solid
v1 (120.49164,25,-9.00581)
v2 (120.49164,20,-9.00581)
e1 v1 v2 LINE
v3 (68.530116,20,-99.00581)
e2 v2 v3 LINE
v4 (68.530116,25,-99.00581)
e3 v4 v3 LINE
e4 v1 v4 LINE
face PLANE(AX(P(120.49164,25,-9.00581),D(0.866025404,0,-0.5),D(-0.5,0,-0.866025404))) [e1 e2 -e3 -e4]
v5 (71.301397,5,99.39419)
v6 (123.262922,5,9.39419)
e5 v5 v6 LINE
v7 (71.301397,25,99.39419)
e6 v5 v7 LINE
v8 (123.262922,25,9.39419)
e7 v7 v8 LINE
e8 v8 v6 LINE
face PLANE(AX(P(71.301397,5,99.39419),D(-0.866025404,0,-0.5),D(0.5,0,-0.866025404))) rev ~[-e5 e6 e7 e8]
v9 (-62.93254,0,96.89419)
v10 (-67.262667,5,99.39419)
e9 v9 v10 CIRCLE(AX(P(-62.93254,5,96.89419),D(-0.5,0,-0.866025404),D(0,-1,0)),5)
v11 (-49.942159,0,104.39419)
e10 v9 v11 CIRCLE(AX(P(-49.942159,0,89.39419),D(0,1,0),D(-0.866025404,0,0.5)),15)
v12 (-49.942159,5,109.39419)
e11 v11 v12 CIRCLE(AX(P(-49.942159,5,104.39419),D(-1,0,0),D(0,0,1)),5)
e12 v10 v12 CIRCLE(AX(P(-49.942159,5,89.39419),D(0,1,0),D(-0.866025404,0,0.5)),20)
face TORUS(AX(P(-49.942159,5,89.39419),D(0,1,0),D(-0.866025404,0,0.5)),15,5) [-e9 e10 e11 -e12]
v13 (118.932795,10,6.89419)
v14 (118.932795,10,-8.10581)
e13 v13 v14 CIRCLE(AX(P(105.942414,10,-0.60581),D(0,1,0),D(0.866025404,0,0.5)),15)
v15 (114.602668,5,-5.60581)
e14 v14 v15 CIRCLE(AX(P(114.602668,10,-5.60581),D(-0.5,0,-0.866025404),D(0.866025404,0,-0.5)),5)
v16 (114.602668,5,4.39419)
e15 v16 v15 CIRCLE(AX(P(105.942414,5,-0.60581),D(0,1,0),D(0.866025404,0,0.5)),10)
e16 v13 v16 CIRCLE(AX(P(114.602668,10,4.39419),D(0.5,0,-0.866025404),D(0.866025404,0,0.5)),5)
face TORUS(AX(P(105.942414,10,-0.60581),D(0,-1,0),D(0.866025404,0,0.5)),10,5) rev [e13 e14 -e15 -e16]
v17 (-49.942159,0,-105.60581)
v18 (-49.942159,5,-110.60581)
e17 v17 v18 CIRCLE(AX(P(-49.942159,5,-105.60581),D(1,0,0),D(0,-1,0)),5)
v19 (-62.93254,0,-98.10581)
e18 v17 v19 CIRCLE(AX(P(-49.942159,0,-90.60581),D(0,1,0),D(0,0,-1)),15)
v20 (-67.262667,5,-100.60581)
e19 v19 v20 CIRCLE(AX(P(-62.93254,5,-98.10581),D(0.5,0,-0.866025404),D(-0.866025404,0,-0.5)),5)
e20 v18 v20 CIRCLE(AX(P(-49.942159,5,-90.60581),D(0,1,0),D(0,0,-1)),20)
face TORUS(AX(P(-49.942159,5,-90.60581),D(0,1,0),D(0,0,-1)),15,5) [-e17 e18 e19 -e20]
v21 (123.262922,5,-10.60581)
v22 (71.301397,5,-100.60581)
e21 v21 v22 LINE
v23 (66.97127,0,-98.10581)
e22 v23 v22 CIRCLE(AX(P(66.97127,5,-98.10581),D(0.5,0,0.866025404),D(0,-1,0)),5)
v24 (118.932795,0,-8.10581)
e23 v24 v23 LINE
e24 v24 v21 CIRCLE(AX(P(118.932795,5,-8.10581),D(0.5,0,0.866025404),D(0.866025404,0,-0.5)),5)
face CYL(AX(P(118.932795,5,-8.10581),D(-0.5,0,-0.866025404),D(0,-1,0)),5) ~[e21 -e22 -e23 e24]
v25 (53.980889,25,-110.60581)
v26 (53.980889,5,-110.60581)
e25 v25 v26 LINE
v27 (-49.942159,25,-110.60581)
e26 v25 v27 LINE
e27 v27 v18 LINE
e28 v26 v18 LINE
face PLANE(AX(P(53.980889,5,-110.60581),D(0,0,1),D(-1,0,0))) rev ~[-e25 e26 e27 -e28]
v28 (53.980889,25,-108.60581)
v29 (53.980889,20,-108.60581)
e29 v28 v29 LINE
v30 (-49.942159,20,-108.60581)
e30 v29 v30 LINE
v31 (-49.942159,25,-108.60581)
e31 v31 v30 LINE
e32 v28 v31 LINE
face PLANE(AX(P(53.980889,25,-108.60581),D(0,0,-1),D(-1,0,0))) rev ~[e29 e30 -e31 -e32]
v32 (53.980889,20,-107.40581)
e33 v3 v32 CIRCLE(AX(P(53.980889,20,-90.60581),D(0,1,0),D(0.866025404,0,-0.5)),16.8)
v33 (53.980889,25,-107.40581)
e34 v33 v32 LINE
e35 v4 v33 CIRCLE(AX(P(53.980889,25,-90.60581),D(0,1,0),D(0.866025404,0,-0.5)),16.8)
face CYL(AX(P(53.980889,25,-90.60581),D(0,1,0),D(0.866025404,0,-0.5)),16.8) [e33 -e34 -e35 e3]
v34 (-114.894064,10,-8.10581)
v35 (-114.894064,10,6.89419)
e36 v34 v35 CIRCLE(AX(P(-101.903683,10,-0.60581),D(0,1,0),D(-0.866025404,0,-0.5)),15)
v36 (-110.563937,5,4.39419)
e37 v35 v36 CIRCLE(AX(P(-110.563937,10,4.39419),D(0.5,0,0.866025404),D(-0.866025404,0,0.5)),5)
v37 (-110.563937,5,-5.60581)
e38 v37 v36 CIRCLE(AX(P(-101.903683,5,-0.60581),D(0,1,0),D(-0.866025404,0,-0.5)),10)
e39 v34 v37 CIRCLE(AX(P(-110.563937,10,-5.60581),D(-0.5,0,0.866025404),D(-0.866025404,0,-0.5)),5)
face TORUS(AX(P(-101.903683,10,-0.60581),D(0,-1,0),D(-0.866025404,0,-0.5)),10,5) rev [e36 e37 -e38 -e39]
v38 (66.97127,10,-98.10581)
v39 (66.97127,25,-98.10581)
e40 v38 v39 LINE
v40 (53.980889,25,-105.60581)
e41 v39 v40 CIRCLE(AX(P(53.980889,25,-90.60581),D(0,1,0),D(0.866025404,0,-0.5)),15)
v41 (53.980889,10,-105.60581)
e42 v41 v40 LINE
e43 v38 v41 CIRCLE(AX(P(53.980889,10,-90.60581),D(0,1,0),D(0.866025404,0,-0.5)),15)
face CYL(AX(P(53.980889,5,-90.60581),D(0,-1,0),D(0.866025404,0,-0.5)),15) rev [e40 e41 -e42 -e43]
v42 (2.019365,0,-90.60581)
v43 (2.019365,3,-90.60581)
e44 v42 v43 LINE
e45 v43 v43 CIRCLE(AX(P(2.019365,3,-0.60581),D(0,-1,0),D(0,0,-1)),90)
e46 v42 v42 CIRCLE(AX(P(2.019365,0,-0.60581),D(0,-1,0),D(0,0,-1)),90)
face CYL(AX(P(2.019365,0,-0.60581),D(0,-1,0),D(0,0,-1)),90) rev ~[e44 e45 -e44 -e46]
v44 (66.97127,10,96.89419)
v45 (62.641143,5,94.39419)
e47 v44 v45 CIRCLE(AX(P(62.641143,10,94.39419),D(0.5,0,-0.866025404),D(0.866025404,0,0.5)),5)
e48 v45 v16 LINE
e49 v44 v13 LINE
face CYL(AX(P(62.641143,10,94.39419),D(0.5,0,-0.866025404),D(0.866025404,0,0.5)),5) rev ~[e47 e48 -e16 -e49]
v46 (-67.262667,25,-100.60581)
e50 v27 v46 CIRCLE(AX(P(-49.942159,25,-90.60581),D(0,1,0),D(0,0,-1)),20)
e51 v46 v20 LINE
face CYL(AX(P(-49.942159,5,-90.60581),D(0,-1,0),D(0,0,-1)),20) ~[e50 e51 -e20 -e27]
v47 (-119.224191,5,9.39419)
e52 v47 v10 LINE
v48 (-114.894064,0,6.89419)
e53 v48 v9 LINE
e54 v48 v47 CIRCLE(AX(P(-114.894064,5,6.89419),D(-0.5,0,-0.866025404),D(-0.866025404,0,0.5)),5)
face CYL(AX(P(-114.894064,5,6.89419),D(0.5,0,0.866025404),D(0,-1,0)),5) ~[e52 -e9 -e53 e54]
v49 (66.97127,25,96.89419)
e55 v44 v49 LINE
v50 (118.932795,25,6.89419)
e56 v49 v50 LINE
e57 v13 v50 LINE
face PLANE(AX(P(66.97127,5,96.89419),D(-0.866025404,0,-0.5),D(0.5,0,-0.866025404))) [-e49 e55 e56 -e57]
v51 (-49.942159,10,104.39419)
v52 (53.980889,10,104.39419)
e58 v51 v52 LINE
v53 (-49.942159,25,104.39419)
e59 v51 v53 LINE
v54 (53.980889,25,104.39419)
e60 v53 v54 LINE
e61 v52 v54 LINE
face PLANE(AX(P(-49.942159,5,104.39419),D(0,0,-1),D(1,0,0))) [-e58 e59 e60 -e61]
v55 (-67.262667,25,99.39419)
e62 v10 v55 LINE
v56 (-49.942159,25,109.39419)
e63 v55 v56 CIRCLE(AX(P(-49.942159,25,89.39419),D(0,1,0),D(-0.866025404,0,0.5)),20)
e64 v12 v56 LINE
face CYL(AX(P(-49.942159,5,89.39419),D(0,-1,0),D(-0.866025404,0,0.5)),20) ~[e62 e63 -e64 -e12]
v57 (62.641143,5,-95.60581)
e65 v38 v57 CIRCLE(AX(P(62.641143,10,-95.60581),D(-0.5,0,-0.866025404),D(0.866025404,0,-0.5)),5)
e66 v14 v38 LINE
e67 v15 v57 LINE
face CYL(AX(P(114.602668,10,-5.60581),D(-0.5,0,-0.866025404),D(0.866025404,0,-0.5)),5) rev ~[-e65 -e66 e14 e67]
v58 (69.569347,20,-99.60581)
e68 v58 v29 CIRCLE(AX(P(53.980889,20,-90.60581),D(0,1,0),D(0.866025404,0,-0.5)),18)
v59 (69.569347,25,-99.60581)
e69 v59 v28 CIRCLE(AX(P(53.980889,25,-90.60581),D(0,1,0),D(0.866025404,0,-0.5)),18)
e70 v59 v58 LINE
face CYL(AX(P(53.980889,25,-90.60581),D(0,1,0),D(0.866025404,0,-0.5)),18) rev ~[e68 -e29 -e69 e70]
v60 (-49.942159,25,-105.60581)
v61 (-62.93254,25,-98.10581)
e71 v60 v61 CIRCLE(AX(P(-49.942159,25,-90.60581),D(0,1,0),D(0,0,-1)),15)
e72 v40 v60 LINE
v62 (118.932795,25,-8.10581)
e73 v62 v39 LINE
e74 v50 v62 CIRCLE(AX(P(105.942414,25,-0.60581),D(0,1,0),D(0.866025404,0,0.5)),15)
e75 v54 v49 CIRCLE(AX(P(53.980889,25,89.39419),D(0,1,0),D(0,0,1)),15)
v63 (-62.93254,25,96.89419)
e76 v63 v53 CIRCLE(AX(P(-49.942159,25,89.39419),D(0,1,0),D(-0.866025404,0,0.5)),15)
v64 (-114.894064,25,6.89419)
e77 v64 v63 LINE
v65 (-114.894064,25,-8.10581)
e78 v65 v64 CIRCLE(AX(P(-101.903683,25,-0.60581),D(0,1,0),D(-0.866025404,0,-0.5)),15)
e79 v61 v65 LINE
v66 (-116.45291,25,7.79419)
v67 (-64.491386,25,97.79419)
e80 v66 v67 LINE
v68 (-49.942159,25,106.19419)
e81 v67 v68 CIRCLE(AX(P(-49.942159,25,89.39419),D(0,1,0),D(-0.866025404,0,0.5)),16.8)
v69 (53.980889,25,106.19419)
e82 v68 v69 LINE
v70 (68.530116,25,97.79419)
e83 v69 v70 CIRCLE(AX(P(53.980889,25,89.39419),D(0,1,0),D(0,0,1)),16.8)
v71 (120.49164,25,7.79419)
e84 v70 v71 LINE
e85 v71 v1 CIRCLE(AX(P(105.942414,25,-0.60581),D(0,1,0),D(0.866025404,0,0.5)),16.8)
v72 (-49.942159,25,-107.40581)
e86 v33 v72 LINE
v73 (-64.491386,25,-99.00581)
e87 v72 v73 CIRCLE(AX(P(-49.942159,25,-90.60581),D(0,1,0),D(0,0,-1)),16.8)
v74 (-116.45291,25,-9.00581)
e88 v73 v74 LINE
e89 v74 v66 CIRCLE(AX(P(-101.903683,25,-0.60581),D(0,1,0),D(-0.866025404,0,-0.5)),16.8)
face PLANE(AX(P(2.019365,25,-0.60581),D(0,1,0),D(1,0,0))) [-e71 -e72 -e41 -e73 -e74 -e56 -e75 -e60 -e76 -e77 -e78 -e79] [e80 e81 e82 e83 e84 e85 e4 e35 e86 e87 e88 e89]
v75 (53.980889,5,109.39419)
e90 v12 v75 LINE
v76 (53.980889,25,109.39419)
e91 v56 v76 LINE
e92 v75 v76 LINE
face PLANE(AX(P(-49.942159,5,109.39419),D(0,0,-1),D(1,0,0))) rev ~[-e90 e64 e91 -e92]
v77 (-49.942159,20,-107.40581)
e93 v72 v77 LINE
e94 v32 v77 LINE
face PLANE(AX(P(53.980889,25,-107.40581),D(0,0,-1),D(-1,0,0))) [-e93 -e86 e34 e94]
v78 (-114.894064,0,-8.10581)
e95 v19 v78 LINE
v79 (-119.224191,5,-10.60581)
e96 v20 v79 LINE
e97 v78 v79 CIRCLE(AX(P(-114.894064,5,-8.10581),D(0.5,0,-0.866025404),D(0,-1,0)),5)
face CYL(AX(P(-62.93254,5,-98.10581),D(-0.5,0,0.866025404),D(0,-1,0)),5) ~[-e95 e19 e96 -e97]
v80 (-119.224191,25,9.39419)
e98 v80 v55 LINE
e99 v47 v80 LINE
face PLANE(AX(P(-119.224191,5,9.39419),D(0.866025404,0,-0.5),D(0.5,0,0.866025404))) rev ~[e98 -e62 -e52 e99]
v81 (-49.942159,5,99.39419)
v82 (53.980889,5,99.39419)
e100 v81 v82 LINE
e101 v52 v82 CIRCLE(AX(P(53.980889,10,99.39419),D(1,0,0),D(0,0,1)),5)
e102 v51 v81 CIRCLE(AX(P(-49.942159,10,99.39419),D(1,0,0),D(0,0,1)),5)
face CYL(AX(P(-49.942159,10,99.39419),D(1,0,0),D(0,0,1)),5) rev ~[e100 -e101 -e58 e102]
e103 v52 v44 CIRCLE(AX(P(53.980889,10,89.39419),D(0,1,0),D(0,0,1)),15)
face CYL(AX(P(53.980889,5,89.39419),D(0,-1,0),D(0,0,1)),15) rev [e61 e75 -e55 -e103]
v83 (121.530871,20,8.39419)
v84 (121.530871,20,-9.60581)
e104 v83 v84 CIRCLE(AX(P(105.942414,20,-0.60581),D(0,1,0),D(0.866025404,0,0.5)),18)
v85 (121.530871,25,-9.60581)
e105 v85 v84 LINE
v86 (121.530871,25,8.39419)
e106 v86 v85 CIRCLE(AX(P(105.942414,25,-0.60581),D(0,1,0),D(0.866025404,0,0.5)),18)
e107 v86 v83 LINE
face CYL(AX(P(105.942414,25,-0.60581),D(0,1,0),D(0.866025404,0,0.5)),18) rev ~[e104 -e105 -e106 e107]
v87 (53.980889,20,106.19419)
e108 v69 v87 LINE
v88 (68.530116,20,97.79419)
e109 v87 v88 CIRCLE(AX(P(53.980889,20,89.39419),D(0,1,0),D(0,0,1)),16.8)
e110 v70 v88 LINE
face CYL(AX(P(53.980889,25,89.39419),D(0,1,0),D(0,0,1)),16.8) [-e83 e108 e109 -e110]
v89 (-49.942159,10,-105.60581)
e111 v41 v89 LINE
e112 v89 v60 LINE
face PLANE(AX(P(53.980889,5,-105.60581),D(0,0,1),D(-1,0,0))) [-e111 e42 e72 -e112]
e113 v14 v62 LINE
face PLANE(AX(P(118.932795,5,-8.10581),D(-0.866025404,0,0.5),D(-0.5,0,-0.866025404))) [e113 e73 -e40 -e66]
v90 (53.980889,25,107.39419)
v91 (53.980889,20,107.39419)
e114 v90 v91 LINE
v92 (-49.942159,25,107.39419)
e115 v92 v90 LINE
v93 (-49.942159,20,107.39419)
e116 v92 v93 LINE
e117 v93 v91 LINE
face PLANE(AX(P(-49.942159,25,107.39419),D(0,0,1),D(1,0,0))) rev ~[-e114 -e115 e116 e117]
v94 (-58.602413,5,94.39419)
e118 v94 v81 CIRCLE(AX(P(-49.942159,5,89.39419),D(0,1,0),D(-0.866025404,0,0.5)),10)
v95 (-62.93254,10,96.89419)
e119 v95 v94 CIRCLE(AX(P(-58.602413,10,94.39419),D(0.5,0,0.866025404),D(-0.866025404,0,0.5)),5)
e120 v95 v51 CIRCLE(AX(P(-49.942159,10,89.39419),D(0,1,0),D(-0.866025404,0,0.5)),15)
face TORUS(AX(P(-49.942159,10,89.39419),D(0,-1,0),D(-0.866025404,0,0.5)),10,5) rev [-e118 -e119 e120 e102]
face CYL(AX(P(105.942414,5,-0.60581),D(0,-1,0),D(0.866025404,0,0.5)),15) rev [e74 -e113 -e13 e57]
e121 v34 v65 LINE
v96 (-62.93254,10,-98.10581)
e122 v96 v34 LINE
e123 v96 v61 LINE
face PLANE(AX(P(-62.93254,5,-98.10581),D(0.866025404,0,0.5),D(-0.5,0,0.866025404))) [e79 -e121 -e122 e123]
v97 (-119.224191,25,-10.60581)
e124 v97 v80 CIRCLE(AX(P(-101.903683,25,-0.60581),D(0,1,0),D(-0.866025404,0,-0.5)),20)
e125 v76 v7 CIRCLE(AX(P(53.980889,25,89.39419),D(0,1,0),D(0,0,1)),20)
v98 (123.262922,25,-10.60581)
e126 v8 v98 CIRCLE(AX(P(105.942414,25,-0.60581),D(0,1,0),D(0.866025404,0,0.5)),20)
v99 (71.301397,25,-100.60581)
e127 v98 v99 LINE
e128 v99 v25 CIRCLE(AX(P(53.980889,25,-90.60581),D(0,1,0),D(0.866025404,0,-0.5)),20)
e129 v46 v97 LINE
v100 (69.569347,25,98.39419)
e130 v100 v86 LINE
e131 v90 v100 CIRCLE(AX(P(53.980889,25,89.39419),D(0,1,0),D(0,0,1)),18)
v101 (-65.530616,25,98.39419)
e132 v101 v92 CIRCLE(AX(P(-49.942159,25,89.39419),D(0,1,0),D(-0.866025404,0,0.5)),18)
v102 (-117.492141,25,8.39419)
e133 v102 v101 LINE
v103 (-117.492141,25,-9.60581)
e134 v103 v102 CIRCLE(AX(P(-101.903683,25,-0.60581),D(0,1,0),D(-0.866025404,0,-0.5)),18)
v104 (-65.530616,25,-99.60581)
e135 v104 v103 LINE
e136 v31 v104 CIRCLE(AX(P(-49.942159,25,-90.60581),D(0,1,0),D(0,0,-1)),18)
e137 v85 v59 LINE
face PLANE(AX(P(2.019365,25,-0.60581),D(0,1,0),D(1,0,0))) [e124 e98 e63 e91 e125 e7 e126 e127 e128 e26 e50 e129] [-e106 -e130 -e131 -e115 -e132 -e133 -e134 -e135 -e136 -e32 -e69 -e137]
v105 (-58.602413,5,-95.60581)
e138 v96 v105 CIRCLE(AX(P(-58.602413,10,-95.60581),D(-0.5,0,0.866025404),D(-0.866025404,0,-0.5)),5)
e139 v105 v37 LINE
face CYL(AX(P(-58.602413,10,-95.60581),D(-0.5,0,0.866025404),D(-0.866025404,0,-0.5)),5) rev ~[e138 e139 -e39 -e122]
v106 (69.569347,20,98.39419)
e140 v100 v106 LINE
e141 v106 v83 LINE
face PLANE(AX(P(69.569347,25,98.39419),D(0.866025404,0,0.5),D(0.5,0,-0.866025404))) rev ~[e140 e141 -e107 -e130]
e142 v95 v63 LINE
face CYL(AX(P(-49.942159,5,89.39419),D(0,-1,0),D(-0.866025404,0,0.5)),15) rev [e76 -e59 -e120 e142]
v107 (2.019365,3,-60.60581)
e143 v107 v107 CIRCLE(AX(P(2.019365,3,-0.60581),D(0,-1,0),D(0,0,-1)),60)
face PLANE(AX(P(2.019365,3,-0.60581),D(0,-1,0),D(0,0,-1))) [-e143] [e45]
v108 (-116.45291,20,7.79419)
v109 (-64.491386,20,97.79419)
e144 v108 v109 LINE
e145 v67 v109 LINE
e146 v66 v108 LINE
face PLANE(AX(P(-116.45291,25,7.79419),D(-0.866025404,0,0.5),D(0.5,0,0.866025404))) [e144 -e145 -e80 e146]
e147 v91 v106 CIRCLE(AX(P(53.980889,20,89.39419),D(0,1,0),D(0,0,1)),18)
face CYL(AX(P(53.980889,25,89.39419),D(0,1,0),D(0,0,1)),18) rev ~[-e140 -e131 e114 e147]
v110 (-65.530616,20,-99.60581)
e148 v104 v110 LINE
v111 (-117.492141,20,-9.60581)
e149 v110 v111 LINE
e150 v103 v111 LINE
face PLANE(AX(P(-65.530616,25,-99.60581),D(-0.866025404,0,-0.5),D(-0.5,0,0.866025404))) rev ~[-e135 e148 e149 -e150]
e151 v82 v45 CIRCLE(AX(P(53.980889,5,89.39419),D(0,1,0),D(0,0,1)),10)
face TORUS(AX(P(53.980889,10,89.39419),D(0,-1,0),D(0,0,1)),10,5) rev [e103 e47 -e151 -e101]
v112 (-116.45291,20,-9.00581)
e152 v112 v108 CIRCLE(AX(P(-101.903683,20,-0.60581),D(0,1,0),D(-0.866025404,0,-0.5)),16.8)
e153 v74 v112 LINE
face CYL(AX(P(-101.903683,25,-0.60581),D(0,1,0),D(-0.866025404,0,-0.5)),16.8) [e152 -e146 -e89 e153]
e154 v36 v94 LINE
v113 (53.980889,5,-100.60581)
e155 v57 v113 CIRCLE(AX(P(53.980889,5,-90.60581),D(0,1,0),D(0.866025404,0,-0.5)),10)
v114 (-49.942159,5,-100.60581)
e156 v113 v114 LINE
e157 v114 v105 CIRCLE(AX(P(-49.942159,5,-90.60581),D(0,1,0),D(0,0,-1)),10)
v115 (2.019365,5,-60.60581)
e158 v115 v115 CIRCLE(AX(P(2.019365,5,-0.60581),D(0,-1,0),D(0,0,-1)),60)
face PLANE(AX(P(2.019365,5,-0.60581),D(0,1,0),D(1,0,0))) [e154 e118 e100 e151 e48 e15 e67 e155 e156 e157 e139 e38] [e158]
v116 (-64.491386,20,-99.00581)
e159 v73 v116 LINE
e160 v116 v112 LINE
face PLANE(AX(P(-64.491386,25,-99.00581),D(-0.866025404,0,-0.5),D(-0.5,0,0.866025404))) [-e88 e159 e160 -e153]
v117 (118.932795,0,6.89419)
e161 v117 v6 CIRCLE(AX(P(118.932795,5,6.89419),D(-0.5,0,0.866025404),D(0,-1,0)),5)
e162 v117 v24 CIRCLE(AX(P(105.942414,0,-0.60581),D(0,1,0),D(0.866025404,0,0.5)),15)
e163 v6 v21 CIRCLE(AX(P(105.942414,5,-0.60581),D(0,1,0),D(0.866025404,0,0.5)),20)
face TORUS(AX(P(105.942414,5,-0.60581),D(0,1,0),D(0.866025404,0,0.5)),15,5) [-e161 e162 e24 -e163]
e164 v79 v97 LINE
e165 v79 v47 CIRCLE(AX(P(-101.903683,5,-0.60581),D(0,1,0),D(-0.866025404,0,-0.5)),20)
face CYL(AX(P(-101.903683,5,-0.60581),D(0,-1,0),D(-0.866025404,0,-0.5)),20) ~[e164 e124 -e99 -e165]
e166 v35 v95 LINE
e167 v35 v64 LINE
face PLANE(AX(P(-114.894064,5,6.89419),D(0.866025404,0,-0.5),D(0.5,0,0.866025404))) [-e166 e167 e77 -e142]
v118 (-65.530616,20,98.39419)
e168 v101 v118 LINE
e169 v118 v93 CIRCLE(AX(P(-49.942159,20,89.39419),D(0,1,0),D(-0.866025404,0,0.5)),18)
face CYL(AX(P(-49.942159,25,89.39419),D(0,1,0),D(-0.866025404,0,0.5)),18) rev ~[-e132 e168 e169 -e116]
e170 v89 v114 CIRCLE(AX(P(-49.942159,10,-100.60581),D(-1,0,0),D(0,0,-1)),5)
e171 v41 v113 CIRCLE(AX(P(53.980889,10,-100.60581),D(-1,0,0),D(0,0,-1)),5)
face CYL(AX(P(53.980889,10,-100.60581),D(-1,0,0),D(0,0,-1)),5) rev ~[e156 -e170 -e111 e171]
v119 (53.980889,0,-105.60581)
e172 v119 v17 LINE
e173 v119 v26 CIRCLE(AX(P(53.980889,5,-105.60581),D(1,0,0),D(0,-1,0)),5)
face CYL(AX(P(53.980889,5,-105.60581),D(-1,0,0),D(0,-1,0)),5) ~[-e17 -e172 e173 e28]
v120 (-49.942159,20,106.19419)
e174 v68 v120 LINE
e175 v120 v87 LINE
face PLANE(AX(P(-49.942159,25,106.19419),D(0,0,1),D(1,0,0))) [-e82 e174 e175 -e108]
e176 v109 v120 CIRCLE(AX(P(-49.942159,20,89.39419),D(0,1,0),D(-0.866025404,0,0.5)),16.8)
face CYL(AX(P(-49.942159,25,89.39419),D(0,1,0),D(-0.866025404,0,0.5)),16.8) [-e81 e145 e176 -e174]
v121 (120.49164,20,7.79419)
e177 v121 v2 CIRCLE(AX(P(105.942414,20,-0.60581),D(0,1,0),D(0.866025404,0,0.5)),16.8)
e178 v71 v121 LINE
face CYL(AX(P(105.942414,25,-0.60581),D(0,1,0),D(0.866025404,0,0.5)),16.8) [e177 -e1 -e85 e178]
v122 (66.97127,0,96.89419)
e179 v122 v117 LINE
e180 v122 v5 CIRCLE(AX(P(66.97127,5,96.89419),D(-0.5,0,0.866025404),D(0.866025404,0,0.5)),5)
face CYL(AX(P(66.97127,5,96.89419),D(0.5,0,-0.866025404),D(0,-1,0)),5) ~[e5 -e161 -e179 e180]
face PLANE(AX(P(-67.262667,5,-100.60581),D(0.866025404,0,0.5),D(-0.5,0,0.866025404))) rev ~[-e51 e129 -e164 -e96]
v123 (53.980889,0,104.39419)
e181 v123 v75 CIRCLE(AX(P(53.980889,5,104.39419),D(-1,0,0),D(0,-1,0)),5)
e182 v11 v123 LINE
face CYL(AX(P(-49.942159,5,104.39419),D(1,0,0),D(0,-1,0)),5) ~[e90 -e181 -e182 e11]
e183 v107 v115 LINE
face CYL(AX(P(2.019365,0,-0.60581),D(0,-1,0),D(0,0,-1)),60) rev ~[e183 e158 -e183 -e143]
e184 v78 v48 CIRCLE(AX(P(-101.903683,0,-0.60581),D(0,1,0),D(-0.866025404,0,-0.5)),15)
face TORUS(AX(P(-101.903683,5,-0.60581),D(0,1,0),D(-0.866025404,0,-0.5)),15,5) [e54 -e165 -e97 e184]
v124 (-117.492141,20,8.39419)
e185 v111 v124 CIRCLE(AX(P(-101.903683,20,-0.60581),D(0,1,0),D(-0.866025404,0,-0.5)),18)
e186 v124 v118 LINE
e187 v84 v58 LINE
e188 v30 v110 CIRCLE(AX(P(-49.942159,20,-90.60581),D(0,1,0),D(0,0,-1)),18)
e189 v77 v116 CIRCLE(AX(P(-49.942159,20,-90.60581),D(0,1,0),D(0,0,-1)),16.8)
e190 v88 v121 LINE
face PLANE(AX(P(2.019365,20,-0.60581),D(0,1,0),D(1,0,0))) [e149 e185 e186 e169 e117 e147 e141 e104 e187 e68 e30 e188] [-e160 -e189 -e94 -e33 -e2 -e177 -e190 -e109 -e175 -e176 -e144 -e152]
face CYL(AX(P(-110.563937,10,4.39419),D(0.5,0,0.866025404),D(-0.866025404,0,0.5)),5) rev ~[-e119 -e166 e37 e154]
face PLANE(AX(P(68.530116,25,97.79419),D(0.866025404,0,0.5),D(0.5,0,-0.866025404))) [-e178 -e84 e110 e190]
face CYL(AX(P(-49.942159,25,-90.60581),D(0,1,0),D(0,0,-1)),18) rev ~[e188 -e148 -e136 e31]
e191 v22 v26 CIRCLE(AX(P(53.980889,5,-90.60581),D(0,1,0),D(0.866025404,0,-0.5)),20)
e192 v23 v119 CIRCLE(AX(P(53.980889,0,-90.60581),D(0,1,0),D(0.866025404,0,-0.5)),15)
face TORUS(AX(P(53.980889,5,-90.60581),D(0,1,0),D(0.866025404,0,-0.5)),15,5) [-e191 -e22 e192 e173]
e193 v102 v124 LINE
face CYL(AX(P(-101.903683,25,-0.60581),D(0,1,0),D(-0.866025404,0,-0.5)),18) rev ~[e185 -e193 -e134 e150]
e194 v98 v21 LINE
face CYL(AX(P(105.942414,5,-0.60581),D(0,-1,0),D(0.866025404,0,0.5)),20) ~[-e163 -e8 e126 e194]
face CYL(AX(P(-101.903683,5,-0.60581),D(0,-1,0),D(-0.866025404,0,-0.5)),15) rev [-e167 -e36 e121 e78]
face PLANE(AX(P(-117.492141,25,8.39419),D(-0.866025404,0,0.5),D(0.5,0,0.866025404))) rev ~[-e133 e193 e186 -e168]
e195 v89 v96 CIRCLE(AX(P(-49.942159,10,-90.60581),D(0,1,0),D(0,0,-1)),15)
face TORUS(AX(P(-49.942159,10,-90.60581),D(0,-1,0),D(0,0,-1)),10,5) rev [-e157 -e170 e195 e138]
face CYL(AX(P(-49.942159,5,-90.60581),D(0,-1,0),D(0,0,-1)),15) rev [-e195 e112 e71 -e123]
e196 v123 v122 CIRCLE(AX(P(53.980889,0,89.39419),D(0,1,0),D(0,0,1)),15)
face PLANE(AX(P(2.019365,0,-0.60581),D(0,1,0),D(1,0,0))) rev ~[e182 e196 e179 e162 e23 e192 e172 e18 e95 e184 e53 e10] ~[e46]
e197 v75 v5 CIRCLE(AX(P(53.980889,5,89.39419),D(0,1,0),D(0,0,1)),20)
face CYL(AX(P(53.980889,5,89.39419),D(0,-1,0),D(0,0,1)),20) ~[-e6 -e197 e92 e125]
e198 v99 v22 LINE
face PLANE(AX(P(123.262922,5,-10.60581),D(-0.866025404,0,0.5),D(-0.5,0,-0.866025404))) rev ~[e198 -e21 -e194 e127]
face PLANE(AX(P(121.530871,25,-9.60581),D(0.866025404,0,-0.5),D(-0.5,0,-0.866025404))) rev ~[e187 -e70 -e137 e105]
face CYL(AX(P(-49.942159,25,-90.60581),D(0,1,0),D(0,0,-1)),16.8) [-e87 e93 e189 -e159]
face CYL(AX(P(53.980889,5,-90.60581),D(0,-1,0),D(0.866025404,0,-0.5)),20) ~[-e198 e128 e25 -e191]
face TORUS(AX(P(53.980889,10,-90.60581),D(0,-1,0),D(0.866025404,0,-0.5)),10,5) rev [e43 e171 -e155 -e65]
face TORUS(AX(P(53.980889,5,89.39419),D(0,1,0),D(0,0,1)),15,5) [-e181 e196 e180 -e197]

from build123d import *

# Parameters (mm, degrees)
SALIENTE_EXTRUIR2_DEPTH = 5
SALIENTE_EXTRUIR3_DEPTH = 20
REDONDEO2_R             = 5
REDONDEO3_R             = 5
CROQUIS4_R              = 60
CORTAR_EXTRUIR1_DEPTH   = 10
CROQUIS3_R              = 90
CORTAR_EXTRUIR2_DEPTH   = 3
CORTAR_EXTRUIR3_DEPTH   = 5


with BuildPart() as part:
    # Croquis1 → Saliente-Extruir2 (new body)
    with BuildSketch(Plane(origin=(0, 0, 0), x_dir=(1, 0, 0), z_dir=(0, 1, 0))):
        with BuildLine():
            Line((-119.224191345, -9.394190445), (-67.262667118, -99.394190445))
            ThreePointArc((-67.262667118, -99.394190445), (-59.942159042, -106.71469852), (-49.942159042, -109.394190445))
            Line((-49.942159042, -109.394190445), (53.980889412, -109.394190445))
            ThreePointArc((53.980889412, -109.394190445), (63.980889412, -106.71469852), (71.301397487, -99.394190445))
            Line((71.301397487, -99.394190445), (123.262921714, -9.394190445))
            ThreePointArc((123.262921714, -9.394190445), (125.942413639, 0.605809555), (123.262921714, 10.605809555))
            Line((123.262921714, 10.605809555), (71.301397487, 100.605809555))
            ThreePointArc((71.301397487, 100.605809555), (63.980889412, 107.926317631), (53.980889412, 110.605809555))
            Line((53.980889412, 110.605809555), (-49.942159042, 110.605809555))
            ThreePointArc((-49.942159042, 110.605809555), (-59.942159042, 107.926317631), (-67.262667118, 100.605809555))
            Line((-67.262667118, 100.605809555), (-119.224191345, 10.605809555))
            ThreePointArc((-119.224191345, 10.605809555), (-121.90368327, 0.605809555), (-119.224191345, -9.394190445))
        make_face()
    extrude(amount=SALIENTE_EXTRUIR2_DEPTH)

    # Croquis2 → Saliente-Extruir3 (add)
    with BuildSketch(Plane(origin=(0, 5, 0), x_dir=(1, 0, 0), z_dir=(0, 1, 0))):
        with BuildLine():
            Line((-67.262667118, 100.605809555), (-119.224191345, 10.605809555))
            ThreePointArc((-119.224191345, 10.605809555), (-121.90368327, 0.605809555), (-119.224191345, -9.394190445))
            Line((-119.224191345, -9.394190445), (-67.262667118, -99.394190445))
            ThreePointArc((-67.262667118, -99.394190445), (-59.942159042, -106.71469852), (-49.942159042, -109.394190445))
            Line((-49.942159042, -109.394190445), (53.980889412, -109.394190445))
            ThreePointArc((53.980889412, -109.394190445), (63.980889412, -106.71469852), (71.301397487, -99.394190445))
            Line((71.301397487, -99.394190445), (123.262921714, -9.394190445))
            ThreePointArc((123.262921714, -9.394190445), (125.942413639, 0.605809555), (123.262921714, 10.605809555))
            Line((123.262921714, 10.605809555), (71.301397487, 100.605809555))
            ThreePointArc((71.301397487, 100.605809555), (63.980889412, 107.926317631), (53.980889412, 110.605809555))
            Line((53.980889412, 110.605809555), (-49.942159042, 110.605809555))
            ThreePointArc((-49.942159042, 110.605809555), (-59.942159042, 107.926317631), (-67.262667118, 100.605809555))
        make_face()
        with BuildLine():
            Line((-62.932540099, 98.105809555), (-114.894064326, 8.105809555))
            ThreePointArc((-114.894064326, 8.105809555), (-116.90368327, 0.605809555), (-114.894064326, -6.894190445))
            Line((-114.894064326, -6.894190445), (-62.932540099, -96.894190445))
            ThreePointArc((-62.932540099, -96.894190445), (-57.442159042, -102.384571501), (-49.942159042, -104.394190445))
            Line((-49.942159042, -104.394190445), (53.980889412, -104.394190445))
            ThreePointArc((53.980889412, -104.394190445), (61.480889412, -102.384571501), (66.971270468, -96.894190445))
            Line((66.971270468, -96.894190445), (118.932794695, -6.894190445))
            ThreePointArc((118.932794695, -6.894190445), (120.942413639, 0.605809555), (118.932794695, 8.105809555))
            Line((118.932794695, 8.105809555), (66.971270468, 98.105809555))
            ThreePointArc((66.971270468, 98.105809555), (61.480889412, 103.596190612), (53.980889412, 105.605809555))
            Line((53.980889412, 105.605809555), (-49.942159042, 105.605809555))
            ThreePointArc((-49.942159042, 105.605809555), (-57.442159042, 103.596190612), (-62.932540099, 98.105809555))
        make_face(mode=Mode.SUBTRACT)
    extrude(amount=SALIENTE_EXTRUIR3_DEPTH)

    # Redondeo2
    redondeo2_edges = [part.edges().sort_by_distance(p)[0] for p in [
        (2.019365185, 0, -110.605809555),
        (63.980889412, 0, -107.926317631),
        (97.282159601, 0, -55.605809555),
        (125.942413639, 0, -0.605809555),
        (97.282159601, 0, 54.394190445),
        (63.980889412, 0, 106.71469852),
        (2.019365185, 0, 109.394190445),
        (-59.942159042, 0, 106.71469852),
        (-93.243429232, 0, 54.394190445),
        (-121.90368327, 0, -0.605809555),
        (-93.243429232, 0, -55.605809555),
        (-59.942159042, 0, -107.926317631),
    ]]
    fillet(redondeo2_edges, radius=REDONDEO2_R)

    # Redondeo3
    redondeo3_edges = [part.edges().sort_by_distance(p)[0] for p in [
        (-57.442159042, 5, -103.596190612),
        (-88.913302213, 5, -53.105809555),
        (-116.90368327, 5, -0.605809555),
        (-88.913302213, 5, 51.894190445),
        (-57.442159042, 5, 102.384571501),
        (2.019365185, 5, 104.394190445),
        (61.480889412, 5, 102.384571501),
        (92.952032582, 5, 51.894190445),
        (120.942413639, 5, -0.605809555),
        (92.952032582, 5, -53.105809555),
        (61.480889412, 5, -103.596190612),
        (2.019365185, 5, -105.605809555),
    ]]
    fillet(redondeo3_edges, radius=REDONDEO3_R)

    # Croquis4 → Cortar-Extruir1 (cut)
    with BuildSketch(Plane(origin=(0, 0, 0), x_dir=(-1, 0, 0), z_dir=(0, -1, 0))):
        with Locations(Location((-2.019365185, 0.605809555, 0), (0, 0, 90))):
            Circle(CROQUIS4_R)
    extrude(amount=-CORTAR_EXTRUIR1_DEPTH, mode=Mode.SUBTRACT)

    # Croquis3 → Cortar-Extruir2 (cut)
    with BuildSketch(Plane.XZ):
        with Locations(Location((2.019365185, -0.605809555, 0), (0, 0, 270))):
            Circle(CROQUIS3_R)
    extrude(amount=-CORTAR_EXTRUIR2_DEPTH, mode=Mode.SUBTRACT)

    # Croquis5 → Cortar-Extruir3 (cut)
    with BuildSketch(Plane(origin=(0, 25, 0), x_dir=(1, 0, 0), z_dir=(0, 1, 0))):
        with BuildLine():
            Line((-65.530616311, 99.605809555), (-117.492140538, 9.605809555))
            ThreePointArc((-117.492140538, 9.605809555), (-119.90368327, 0.605809555), (-117.492140538, -8.394190445))
            Line((-117.492140538, -8.394190445), (-65.530616311, -98.394190445))
            ThreePointArc((-65.530616311, -98.394190445), (-58.942159042, -104.982647713), (-49.942159042, -107.394190445))
            Line((-49.942159042, -107.394190445), (53.980889412, -107.394190445))
            ThreePointArc((53.980889412, -107.394190445), (62.980889412, -104.982647713), (69.56934668, -98.394190445))
            Line((69.56934668, -98.394190445), (121.530870907, -8.394190445))
            ThreePointArc((121.530870907, -8.394190445), (123.942413639, 0.605809555), (121.530870907, 9.605809555))
            Line((121.530870907, 9.605809555), (69.56934668, 99.605809555))
            ThreePointArc((69.56934668, 99.605809555), (62.980889412, 106.194266823), (53.980889412, 108.605809555))
            Line((53.980889412, 108.605809555), (-49.942159042, 108.605809555))
            ThreePointArc((-49.942159042, 108.605809555), (-58.942159042, 106.194266823), (-65.530616311, 99.605809555))
        make_face()
        with BuildLine():
            Line((-64.491385826, 99.005809555), (-116.452910053, 9.005809555))
            ThreePointArc((-116.452910053, 9.005809555), (-118.70368327, 0.605809555), (-116.452910053, -7.794190445))
            Line((-116.452910053, -7.794190445), (-64.491385826, -97.794190445))
            ThreePointArc((-64.491385826, -97.794190445), (-58.342159042, -103.943417228), (-49.942159042, -106.194190445))
            Line((-49.942159042, -106.194190445), (53.980889412, -106.194190445))
            ThreePointArc((53.980889412, -106.194190445), (62.380889412, -103.943417228), (68.530116195, -97.794190445))
            Line((68.530116195, -97.794190445), (120.491640422, -7.794190445))
            ThreePointArc((120.491640422, -7.794190445), (122.742413639, 0.605809555), (120.491640422, 9.005809555))
            Line((120.491640422, 9.005809555), (68.530116195, 99.005809555))
            ThreePointArc((68.530116195, 99.005809555), (62.380889412, 105.155036339), (53.980889412, 107.405809555))
            Line((53.980889412, 107.405809555), (-49.942159042, 107.405809555))
            ThreePointArc((-49.942159042, 107.405809555), (-58.342159042, 105.155036339), (-64.491385826, 99.005809555))
        make_face(mode=Mode.SUBTRACT)
    extrude(amount=-CORTAR_EXTRUIR3_DEPTH, mode=Mode.SUBTRACT)


solid = part.part
